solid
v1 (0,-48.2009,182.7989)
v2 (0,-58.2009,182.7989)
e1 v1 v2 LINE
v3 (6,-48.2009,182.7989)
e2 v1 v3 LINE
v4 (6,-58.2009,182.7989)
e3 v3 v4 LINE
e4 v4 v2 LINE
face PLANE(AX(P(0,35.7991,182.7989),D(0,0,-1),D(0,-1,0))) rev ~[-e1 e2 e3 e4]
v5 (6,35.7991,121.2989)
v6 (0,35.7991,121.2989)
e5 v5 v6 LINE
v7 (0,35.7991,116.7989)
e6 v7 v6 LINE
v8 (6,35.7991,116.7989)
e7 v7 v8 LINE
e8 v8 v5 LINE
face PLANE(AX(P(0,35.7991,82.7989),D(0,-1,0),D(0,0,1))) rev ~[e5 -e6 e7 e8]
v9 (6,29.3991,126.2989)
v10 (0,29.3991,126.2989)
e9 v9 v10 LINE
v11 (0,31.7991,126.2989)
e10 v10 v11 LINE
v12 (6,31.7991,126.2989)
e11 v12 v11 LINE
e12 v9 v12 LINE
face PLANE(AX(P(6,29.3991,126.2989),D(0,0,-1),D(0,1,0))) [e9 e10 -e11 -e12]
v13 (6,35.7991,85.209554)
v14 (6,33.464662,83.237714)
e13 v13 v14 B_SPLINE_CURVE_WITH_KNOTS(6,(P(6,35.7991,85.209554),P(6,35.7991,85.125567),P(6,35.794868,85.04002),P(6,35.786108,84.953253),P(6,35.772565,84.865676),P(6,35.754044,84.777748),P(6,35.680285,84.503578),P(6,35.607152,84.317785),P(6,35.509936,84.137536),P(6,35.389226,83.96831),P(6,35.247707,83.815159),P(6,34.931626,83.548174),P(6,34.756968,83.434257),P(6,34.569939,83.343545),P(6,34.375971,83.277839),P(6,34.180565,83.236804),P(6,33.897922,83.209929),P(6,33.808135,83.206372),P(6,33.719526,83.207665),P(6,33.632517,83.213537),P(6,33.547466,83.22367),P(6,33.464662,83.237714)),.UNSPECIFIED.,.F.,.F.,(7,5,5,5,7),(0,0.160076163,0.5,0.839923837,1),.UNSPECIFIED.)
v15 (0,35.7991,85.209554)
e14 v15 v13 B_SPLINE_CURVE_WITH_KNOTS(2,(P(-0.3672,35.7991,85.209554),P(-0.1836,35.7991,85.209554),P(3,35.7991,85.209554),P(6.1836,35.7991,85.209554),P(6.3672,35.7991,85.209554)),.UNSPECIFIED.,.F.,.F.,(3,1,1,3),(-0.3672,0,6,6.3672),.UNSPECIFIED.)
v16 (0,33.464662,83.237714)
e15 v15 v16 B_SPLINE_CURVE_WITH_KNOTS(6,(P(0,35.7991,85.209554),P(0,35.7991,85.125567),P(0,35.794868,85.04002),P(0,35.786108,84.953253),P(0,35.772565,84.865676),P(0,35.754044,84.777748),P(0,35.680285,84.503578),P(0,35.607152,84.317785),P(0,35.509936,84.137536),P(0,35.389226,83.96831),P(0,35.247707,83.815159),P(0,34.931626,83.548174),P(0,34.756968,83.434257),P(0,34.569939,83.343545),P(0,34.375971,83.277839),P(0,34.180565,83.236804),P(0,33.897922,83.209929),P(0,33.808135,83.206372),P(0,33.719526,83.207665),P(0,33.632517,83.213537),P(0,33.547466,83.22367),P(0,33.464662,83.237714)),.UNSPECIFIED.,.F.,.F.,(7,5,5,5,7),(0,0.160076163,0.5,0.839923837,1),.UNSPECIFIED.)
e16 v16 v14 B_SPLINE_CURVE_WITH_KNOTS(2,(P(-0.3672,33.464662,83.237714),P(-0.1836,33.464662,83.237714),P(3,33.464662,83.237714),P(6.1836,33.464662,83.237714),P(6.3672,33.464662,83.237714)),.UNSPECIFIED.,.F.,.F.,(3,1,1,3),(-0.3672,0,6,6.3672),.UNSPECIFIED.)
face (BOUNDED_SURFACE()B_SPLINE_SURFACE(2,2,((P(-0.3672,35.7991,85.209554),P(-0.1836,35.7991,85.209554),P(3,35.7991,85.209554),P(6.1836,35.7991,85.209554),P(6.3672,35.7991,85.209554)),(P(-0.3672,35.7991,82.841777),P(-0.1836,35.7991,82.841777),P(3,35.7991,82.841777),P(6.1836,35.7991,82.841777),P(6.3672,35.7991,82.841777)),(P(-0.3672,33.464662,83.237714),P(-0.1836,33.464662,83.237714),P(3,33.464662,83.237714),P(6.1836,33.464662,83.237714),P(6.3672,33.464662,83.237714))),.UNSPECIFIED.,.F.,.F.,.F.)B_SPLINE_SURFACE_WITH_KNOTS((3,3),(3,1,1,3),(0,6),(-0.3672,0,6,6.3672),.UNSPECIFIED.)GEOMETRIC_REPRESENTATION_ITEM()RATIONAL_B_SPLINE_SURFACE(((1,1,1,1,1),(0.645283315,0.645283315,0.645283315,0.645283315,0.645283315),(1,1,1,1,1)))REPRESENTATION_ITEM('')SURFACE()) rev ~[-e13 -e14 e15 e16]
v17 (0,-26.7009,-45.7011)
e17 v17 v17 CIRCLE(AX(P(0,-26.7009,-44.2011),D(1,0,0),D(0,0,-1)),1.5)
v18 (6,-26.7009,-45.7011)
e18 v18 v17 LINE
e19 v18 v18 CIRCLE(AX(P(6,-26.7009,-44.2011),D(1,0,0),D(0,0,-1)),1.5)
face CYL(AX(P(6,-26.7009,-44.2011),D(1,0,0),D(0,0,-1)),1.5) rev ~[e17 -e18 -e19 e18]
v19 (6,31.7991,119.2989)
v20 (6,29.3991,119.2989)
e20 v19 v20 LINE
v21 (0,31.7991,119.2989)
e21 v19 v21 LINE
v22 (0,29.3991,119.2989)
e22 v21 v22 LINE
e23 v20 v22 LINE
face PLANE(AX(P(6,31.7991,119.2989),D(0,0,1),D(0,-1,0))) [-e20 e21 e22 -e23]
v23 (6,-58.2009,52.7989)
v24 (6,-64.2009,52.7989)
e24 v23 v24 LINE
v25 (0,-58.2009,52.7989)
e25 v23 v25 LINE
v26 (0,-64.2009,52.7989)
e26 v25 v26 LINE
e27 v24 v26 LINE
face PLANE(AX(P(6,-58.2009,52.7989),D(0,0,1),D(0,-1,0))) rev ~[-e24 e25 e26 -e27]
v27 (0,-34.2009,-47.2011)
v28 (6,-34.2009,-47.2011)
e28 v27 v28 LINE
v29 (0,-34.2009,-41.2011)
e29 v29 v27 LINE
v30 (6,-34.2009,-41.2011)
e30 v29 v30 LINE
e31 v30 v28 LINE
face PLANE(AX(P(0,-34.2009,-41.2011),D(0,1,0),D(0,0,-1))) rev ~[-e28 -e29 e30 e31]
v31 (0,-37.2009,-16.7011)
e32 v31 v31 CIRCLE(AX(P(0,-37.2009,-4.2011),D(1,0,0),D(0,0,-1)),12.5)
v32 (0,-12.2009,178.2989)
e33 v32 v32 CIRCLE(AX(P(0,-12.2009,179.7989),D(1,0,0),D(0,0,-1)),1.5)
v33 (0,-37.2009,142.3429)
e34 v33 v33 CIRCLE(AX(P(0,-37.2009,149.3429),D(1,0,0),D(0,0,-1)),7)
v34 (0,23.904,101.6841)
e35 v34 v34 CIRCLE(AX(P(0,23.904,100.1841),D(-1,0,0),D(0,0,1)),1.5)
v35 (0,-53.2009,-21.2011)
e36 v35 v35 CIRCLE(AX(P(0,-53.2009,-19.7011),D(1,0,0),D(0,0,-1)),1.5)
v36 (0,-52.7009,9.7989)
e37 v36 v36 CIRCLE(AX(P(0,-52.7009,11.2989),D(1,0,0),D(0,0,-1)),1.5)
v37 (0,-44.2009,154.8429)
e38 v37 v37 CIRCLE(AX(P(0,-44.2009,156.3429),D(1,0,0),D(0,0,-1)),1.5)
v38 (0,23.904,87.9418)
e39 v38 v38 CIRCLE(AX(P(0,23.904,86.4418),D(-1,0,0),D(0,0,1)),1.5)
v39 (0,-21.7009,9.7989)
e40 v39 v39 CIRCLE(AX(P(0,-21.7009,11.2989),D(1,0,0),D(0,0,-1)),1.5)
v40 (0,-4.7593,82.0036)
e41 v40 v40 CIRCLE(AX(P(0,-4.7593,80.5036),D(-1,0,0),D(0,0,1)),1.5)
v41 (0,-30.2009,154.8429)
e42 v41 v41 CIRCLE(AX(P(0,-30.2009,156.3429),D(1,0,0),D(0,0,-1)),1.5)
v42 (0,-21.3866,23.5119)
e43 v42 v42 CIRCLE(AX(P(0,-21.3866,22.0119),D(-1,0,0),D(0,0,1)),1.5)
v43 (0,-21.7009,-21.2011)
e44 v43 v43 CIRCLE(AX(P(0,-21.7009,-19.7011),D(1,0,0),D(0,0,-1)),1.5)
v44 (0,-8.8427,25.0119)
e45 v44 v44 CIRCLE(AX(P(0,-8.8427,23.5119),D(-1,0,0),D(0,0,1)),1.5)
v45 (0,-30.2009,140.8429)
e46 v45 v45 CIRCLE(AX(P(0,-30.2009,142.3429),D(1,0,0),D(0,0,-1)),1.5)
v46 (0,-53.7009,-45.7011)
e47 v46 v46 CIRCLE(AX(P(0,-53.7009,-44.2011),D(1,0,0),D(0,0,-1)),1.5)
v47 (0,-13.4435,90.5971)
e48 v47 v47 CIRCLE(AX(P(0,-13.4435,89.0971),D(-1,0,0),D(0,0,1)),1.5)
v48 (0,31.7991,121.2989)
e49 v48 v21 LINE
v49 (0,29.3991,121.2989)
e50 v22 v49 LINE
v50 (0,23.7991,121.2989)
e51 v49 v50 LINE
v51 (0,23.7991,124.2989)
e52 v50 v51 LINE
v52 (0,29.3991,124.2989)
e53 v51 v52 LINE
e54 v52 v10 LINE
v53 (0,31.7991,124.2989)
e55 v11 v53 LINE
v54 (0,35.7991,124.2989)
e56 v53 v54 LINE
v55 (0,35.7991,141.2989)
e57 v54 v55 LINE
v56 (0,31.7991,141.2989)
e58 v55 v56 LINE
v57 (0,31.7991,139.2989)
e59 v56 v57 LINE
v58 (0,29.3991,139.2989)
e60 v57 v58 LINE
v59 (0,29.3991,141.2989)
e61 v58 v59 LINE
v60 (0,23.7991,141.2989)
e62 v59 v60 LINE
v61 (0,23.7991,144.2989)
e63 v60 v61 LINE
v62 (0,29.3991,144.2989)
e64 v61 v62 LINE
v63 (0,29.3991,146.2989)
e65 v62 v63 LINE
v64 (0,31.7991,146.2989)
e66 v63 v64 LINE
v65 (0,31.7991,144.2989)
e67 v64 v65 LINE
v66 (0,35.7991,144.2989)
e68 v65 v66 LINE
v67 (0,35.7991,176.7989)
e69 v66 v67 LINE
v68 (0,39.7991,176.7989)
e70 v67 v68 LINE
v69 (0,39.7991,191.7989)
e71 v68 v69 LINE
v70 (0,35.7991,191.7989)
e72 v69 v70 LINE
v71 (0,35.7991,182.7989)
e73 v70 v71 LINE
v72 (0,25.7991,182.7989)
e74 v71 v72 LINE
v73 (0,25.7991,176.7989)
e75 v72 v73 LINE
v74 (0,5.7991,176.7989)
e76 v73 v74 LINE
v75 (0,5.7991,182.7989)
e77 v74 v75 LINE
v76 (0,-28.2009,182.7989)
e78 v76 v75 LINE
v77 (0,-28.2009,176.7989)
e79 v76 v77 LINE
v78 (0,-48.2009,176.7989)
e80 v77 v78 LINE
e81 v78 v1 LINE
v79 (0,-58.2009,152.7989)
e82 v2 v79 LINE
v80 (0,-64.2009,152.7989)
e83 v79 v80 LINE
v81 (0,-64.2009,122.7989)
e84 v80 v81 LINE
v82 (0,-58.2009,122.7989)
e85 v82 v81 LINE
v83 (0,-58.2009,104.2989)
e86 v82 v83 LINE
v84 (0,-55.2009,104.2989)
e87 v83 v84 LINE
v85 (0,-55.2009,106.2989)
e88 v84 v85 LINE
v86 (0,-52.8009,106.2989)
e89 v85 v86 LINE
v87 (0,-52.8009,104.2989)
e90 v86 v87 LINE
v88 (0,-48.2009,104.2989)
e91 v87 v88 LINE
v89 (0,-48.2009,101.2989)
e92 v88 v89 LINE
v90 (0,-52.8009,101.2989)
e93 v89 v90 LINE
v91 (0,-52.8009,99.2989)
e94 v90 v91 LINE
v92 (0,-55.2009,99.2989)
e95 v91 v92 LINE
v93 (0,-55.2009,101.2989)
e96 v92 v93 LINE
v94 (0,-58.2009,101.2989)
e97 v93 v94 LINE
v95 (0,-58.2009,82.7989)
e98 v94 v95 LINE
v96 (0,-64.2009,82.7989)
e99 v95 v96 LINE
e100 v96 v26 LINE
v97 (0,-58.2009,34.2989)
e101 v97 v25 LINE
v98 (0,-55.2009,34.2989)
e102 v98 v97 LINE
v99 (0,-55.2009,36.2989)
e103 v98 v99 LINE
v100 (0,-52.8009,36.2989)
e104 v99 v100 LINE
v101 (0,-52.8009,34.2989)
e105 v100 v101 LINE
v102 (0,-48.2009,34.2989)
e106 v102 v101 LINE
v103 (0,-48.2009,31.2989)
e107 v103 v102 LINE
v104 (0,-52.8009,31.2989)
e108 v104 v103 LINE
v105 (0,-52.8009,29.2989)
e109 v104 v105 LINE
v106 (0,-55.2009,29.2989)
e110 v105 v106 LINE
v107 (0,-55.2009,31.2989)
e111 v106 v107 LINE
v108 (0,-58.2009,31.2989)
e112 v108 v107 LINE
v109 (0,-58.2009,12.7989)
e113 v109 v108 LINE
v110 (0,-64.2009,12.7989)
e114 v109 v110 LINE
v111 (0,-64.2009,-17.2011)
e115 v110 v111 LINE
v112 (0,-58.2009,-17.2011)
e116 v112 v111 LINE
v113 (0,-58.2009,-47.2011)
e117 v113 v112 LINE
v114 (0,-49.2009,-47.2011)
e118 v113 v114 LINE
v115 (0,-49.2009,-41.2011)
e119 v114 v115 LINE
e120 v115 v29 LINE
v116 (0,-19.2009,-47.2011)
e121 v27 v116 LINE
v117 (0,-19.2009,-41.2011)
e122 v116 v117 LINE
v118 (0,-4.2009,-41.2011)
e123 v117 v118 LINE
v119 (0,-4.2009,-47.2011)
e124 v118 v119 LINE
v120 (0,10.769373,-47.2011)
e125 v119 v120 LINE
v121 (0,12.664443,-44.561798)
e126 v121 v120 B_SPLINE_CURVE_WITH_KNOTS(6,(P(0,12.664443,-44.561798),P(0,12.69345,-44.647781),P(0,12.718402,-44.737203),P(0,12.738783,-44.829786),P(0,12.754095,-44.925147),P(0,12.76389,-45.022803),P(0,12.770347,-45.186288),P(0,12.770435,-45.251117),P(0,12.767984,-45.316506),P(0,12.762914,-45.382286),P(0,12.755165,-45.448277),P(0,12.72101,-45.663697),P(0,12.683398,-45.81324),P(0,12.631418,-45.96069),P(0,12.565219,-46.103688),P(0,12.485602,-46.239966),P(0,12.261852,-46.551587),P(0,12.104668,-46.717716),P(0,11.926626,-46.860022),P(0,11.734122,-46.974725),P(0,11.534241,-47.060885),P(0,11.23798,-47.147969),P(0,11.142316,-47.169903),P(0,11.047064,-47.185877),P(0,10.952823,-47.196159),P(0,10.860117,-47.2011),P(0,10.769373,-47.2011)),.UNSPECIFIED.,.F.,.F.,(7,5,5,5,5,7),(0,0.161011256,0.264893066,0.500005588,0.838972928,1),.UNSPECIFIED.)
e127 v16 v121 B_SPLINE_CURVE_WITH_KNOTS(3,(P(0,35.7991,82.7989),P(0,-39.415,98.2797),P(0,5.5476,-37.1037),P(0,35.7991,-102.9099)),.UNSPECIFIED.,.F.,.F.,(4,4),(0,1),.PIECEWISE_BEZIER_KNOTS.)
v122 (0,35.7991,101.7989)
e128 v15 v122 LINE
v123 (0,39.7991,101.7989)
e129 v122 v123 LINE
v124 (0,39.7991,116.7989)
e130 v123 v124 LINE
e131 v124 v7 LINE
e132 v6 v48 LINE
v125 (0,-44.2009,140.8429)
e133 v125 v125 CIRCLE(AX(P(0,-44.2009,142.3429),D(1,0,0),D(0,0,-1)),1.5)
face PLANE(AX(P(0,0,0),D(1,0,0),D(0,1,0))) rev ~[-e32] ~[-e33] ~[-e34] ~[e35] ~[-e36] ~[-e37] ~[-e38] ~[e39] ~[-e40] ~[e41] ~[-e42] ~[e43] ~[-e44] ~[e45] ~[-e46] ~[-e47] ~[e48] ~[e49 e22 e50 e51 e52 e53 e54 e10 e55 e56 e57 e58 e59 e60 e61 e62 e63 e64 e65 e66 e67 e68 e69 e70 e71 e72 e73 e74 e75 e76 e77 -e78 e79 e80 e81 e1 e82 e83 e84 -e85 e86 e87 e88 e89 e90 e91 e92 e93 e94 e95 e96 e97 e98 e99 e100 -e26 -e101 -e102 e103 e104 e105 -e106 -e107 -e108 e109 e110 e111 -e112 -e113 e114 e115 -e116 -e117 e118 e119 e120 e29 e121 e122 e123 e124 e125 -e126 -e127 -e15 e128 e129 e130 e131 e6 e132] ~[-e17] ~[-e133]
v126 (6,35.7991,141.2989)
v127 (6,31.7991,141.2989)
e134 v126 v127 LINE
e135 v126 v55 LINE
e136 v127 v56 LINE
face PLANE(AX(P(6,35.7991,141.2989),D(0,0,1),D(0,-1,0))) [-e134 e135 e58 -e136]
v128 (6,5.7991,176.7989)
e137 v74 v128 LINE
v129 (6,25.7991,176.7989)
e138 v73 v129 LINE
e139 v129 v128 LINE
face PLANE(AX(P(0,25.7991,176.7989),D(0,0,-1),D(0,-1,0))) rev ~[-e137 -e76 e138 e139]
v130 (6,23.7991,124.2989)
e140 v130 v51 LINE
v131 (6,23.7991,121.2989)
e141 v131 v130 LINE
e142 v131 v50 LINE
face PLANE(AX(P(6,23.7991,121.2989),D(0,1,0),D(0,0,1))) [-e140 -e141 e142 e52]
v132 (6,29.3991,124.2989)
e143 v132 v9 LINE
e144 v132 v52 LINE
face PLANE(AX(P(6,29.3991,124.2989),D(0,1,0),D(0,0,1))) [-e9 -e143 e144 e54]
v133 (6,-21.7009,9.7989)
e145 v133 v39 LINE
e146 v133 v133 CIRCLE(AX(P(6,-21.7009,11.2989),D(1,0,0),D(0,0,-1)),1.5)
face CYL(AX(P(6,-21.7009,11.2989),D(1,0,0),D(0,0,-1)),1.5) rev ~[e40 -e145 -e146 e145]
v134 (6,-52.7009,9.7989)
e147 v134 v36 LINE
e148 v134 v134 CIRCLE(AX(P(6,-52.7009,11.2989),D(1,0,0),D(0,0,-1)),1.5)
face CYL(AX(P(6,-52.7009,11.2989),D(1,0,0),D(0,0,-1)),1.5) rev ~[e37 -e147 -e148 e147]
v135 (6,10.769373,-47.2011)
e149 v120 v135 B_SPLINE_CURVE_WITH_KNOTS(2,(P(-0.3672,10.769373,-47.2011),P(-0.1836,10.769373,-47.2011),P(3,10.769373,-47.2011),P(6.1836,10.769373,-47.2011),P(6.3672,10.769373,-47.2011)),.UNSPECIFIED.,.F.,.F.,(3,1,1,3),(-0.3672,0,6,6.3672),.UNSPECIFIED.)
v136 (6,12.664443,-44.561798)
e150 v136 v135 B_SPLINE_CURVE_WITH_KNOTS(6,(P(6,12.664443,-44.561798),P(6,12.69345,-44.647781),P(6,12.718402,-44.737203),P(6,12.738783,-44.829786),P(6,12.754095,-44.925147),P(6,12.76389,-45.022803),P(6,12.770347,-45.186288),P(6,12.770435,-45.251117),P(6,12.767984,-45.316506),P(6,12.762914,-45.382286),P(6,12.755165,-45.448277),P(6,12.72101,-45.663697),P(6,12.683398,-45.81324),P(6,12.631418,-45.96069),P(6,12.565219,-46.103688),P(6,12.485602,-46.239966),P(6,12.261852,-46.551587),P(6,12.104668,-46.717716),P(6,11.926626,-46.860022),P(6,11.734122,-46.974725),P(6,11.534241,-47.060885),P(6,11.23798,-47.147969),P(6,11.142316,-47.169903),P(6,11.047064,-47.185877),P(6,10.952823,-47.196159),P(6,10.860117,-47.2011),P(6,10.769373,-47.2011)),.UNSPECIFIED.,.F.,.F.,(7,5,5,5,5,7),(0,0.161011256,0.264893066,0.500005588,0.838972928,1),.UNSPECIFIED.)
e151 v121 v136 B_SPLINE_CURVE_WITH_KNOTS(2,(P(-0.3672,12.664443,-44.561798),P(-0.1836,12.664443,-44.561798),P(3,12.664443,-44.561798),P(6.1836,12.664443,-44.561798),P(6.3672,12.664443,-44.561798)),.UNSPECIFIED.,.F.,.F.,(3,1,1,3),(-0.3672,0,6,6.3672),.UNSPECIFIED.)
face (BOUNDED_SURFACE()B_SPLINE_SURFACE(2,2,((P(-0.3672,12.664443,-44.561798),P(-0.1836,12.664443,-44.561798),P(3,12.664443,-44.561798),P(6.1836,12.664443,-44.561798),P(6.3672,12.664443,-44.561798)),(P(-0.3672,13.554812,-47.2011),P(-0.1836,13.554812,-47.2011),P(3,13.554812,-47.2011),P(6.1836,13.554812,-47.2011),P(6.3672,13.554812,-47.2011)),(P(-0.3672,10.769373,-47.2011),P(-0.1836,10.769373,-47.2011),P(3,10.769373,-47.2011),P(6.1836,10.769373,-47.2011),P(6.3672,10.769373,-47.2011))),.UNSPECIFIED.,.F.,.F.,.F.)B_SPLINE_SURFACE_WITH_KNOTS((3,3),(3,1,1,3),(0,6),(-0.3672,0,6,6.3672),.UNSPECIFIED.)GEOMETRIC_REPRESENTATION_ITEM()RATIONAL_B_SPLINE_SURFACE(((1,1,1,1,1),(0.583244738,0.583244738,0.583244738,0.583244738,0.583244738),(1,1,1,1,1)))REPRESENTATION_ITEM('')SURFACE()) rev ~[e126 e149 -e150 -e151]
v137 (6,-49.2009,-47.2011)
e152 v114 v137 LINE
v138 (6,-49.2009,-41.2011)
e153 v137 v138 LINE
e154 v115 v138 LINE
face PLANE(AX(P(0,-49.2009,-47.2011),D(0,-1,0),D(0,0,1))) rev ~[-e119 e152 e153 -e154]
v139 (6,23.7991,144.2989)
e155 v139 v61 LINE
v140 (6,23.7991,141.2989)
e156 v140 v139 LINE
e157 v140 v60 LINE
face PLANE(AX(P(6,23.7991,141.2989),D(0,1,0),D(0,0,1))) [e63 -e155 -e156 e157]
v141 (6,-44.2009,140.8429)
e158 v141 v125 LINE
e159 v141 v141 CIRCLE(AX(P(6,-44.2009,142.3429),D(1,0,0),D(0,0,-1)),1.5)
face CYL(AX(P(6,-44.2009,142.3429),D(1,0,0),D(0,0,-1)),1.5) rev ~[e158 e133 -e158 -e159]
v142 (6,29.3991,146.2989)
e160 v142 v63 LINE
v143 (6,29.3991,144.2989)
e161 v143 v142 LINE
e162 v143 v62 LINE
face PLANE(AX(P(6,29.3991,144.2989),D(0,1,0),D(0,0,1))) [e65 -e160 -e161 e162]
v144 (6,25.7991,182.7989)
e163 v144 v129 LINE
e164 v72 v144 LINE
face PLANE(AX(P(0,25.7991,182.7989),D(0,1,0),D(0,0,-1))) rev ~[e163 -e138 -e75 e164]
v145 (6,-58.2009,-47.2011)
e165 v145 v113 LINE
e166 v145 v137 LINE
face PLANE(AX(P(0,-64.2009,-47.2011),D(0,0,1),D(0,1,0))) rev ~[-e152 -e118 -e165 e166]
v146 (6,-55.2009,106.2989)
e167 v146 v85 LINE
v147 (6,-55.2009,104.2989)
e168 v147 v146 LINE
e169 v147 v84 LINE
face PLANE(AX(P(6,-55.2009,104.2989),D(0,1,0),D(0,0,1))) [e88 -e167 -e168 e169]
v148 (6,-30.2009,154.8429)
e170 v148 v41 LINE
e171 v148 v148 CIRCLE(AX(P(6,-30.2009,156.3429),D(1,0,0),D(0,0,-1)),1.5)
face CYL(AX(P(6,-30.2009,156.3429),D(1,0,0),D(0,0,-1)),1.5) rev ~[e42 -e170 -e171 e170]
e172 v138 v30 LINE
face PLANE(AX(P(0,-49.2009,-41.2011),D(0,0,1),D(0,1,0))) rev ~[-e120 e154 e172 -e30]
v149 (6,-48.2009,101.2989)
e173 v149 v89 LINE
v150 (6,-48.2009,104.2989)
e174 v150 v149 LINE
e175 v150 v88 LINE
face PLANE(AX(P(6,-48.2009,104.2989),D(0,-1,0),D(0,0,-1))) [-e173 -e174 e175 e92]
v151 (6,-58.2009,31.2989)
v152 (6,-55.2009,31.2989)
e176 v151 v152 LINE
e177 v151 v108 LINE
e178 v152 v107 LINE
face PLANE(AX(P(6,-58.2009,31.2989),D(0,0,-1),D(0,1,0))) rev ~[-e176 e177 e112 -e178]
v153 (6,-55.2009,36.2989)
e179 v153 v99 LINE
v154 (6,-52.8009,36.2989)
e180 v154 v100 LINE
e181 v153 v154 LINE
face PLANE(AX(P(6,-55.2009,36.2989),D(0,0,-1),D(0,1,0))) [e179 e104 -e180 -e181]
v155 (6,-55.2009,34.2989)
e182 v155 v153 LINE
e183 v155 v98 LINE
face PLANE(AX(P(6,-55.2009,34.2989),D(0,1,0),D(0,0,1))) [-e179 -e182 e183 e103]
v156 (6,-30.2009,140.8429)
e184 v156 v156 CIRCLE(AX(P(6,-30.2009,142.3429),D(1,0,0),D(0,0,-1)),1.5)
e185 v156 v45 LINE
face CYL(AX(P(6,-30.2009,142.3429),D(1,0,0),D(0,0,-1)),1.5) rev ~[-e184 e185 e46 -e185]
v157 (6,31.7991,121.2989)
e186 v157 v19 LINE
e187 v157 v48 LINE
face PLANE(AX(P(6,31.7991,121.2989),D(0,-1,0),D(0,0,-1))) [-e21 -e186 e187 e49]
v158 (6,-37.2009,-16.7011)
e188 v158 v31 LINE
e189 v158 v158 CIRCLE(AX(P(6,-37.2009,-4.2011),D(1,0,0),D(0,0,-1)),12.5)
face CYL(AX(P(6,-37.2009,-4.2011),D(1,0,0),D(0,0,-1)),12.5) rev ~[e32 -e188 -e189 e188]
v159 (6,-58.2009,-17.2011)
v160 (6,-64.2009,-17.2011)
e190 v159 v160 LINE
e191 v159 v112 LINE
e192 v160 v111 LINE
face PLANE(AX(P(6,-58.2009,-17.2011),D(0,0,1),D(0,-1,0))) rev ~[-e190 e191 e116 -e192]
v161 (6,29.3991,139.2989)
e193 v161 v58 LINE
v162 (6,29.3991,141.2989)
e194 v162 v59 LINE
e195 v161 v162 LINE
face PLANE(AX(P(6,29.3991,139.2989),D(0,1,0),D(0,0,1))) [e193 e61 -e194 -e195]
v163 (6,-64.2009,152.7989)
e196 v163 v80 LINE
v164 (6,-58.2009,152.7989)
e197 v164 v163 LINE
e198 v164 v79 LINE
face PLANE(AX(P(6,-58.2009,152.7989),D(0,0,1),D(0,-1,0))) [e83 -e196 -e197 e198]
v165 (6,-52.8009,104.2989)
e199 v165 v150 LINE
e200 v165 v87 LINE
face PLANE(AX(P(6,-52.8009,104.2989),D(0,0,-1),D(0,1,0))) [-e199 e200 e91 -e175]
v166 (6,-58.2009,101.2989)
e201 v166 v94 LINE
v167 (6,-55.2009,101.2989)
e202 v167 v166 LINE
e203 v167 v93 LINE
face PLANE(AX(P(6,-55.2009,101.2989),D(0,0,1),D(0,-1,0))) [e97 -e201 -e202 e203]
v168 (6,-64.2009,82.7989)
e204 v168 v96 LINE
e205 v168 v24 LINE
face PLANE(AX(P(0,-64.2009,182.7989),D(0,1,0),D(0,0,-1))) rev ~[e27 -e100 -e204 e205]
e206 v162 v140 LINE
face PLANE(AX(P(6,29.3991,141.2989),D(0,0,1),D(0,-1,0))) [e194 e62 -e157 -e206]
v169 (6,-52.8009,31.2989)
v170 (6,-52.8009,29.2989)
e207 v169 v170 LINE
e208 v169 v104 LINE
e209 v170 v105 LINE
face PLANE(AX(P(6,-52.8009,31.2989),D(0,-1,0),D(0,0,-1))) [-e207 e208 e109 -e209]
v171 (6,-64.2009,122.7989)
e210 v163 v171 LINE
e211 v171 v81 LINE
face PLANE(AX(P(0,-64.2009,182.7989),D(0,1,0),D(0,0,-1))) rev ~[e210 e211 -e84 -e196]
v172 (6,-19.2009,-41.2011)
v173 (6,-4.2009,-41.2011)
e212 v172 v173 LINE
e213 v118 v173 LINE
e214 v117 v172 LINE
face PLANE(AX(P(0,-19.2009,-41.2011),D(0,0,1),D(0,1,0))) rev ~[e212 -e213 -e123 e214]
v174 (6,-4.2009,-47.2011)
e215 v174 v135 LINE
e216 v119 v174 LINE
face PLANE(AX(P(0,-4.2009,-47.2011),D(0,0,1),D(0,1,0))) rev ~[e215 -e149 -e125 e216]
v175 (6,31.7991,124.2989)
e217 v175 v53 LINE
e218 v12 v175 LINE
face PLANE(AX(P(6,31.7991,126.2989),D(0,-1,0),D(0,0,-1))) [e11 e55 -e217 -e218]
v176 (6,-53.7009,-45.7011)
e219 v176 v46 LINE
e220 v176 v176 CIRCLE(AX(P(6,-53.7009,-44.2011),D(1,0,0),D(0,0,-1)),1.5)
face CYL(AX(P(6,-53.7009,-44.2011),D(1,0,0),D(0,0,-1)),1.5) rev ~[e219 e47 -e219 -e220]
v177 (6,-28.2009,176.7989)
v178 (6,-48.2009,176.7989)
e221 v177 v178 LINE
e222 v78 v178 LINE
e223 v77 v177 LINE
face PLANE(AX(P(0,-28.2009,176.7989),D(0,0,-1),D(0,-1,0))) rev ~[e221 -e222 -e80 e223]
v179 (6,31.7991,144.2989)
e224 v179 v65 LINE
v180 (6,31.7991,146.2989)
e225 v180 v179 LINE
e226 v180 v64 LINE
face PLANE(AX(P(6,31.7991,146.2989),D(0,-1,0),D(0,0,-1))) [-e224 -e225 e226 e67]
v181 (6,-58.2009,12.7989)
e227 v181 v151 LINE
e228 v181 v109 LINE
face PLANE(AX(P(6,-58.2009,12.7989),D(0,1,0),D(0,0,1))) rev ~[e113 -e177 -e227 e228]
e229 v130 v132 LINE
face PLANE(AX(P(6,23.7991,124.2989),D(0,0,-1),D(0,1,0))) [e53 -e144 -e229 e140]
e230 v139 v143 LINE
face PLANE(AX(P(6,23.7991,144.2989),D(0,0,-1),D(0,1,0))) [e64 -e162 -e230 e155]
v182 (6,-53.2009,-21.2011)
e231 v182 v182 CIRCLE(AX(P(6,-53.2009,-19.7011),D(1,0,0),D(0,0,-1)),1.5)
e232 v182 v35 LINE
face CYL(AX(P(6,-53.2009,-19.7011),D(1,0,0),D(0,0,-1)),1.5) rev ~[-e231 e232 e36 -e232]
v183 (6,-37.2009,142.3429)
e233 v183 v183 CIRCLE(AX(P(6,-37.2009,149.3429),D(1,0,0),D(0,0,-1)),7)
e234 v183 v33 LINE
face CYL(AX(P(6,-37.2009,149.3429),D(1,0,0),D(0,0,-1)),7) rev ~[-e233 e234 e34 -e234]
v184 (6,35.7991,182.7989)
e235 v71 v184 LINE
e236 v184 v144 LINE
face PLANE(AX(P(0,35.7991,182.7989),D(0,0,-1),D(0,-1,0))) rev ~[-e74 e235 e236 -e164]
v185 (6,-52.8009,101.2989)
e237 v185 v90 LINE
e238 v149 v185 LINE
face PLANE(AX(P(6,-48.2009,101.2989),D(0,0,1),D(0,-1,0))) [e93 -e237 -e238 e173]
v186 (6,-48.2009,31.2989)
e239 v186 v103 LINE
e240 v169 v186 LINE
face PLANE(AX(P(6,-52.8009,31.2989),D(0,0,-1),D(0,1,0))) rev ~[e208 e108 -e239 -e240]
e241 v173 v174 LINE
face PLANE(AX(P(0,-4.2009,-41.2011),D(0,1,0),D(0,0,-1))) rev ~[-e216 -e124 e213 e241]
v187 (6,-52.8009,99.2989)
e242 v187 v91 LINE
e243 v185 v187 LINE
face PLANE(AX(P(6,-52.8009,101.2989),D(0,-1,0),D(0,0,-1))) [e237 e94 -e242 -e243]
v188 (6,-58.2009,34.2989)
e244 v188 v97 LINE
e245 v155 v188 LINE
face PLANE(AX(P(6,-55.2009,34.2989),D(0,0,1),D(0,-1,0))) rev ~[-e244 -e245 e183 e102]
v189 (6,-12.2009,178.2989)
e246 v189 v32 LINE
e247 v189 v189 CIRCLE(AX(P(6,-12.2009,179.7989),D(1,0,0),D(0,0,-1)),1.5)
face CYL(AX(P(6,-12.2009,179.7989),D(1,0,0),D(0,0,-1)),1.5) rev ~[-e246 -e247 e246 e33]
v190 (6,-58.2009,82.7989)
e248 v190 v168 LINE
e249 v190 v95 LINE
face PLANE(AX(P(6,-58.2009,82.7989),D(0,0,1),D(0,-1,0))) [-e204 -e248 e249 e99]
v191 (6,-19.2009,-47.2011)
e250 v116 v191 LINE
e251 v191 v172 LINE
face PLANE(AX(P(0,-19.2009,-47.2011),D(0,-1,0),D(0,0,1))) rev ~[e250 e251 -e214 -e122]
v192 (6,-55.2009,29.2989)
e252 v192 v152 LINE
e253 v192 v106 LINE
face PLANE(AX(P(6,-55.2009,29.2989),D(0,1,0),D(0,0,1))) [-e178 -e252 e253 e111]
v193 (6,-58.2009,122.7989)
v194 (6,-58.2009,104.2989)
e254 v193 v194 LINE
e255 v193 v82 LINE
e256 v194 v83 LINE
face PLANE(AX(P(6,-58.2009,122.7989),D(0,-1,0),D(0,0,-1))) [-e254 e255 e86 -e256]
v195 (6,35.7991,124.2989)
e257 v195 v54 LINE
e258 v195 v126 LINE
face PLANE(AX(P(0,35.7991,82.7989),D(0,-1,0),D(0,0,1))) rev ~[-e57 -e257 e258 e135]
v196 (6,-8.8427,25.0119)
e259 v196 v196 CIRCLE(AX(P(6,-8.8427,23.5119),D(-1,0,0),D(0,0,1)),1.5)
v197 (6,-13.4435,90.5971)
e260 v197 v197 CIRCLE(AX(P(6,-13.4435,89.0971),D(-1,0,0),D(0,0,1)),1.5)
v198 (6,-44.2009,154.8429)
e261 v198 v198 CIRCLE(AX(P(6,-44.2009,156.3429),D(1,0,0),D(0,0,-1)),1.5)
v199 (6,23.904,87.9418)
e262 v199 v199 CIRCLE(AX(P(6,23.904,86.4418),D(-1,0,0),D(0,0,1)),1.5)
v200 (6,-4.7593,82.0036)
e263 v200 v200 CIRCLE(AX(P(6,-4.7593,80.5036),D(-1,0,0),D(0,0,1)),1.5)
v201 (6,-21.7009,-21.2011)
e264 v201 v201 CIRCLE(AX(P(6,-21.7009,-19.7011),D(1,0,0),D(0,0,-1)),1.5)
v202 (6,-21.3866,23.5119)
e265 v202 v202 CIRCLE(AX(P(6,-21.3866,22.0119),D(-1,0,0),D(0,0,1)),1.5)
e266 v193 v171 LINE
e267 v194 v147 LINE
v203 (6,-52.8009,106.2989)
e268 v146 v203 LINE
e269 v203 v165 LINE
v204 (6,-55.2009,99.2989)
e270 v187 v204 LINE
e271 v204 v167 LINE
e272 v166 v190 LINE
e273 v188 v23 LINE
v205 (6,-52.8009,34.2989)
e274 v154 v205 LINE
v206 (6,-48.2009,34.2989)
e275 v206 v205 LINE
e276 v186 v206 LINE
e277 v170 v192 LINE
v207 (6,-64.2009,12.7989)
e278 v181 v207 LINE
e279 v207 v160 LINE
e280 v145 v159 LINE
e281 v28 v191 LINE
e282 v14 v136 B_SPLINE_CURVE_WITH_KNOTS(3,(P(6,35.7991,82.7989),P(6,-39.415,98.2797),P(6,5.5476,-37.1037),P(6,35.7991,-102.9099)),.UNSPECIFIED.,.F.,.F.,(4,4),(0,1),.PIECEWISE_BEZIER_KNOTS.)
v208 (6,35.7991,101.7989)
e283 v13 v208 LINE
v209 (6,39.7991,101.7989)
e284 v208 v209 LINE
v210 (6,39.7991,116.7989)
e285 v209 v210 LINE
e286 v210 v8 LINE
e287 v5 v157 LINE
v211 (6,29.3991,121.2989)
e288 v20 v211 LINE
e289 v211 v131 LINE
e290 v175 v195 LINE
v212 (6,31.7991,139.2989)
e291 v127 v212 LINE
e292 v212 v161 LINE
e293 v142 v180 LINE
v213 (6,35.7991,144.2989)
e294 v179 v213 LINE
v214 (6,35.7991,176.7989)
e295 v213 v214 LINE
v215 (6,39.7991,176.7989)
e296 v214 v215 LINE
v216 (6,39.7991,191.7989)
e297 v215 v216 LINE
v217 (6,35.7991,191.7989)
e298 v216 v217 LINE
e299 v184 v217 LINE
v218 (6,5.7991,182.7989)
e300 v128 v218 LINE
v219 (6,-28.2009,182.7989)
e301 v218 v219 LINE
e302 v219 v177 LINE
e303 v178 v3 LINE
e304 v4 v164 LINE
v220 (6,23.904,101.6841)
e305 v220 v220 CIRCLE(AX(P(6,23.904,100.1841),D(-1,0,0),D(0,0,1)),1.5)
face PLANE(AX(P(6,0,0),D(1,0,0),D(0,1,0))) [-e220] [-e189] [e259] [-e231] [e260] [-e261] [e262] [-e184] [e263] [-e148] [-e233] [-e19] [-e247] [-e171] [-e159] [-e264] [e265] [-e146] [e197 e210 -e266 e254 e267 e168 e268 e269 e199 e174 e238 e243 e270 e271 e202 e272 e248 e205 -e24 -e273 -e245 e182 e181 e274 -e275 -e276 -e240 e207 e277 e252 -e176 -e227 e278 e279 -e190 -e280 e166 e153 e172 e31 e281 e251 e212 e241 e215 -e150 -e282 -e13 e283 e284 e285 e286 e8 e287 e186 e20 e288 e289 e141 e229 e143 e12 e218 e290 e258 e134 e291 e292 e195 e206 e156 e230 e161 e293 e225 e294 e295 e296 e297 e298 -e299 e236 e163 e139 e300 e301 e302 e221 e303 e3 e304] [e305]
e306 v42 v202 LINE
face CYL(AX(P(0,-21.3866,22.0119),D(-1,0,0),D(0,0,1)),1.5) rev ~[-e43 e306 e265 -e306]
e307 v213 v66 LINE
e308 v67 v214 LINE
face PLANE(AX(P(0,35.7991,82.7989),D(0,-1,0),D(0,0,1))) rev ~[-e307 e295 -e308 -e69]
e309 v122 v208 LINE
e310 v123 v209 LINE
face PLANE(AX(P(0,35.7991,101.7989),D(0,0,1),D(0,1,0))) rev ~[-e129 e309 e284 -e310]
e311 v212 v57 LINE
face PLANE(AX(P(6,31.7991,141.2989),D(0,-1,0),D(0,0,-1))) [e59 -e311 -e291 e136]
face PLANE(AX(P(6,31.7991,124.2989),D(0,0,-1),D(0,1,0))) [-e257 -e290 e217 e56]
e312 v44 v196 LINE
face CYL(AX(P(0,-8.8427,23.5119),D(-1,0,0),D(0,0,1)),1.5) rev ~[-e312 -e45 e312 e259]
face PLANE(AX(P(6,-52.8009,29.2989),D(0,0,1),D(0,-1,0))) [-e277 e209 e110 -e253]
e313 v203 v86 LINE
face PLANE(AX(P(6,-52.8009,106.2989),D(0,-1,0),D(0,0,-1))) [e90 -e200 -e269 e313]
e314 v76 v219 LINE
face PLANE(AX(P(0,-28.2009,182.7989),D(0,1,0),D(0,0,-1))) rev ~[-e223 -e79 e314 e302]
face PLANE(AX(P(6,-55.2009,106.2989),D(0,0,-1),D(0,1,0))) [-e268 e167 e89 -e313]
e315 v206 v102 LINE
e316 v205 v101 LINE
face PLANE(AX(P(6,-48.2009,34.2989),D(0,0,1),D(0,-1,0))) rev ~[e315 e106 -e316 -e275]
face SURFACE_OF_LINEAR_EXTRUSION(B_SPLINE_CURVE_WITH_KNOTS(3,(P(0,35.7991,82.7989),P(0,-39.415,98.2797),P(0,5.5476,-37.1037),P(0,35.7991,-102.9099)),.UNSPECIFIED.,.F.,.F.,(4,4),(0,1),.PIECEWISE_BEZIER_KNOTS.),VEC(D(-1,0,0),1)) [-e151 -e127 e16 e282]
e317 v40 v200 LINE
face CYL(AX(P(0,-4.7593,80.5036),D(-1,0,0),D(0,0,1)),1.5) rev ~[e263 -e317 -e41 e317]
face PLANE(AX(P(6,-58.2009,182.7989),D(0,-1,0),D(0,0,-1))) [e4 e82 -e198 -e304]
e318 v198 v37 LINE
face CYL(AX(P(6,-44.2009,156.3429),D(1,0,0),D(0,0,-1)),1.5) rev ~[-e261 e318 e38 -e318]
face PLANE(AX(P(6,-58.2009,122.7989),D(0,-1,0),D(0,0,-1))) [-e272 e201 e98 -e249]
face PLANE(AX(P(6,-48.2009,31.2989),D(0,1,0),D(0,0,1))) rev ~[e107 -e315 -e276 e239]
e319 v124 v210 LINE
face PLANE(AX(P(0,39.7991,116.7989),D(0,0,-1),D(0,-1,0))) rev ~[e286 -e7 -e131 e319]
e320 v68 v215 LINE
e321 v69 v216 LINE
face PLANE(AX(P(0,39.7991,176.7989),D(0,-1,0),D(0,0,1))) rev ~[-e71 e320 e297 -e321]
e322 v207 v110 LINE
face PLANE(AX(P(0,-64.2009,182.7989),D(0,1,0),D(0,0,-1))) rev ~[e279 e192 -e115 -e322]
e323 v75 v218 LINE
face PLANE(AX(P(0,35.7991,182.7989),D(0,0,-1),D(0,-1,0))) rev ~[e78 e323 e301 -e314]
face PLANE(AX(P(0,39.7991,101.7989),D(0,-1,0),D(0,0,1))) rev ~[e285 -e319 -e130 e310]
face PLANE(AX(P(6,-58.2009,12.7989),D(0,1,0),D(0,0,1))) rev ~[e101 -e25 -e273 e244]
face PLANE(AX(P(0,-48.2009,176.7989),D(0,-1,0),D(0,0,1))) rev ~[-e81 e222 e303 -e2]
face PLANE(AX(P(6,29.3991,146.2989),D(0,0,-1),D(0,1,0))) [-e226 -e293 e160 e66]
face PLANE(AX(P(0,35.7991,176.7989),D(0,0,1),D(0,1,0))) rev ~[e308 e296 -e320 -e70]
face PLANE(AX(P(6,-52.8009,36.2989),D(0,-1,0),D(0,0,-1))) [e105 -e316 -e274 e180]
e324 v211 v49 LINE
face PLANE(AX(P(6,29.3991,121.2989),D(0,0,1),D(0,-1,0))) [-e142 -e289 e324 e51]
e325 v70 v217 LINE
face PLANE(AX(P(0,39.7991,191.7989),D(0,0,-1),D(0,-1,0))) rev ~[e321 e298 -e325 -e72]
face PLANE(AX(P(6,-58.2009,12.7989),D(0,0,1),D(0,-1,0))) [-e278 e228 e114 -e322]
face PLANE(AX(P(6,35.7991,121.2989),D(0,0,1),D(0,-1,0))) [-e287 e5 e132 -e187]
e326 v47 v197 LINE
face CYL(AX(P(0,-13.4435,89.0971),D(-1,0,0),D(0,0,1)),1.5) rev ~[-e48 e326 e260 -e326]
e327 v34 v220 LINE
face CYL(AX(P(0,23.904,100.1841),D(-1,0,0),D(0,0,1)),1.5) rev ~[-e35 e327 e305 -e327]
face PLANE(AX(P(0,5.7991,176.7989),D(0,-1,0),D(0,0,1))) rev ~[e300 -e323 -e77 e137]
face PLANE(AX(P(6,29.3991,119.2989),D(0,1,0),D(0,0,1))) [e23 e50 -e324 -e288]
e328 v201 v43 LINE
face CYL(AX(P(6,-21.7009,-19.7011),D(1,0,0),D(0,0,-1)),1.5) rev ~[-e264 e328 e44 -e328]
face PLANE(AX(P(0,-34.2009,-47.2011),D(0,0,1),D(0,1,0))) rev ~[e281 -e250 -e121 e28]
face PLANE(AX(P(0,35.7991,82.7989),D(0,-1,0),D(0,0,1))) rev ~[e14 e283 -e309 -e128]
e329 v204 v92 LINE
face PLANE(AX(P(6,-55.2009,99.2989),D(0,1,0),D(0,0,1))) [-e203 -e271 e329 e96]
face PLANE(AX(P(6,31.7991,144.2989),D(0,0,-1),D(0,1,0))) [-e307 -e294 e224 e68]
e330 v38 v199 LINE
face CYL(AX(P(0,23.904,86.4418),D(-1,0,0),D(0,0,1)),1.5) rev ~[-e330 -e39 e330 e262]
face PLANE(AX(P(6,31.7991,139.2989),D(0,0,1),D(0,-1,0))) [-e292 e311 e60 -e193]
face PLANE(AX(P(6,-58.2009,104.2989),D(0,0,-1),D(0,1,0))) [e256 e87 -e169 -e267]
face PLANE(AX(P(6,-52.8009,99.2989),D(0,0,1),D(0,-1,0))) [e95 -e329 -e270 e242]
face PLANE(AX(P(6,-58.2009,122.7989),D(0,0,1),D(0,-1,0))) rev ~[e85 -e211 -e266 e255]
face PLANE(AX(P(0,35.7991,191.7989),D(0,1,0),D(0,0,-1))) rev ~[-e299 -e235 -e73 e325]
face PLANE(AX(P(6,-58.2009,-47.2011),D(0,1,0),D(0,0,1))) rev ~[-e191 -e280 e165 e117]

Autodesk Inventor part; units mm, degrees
ref_plane "YZ Plane" through (0, 0, 0) normal (1, 0, 0) x (0, 1, 0)
ref_plane "XZ Plane" through (0, 0, 0) normal (0, 1, 0) x (-1, 0, 0)
ref_plane "XY Plane" through (0, 0, 0) normal (0, 0, 1) x (1, 0, 0)
sketch "Эскиз1" plane through (0, 0, 0) normal (1, 0, 0) x (0, 1, 0)
  line L0 (35.7991, 182.7989) -> (-64.2009, 182.7989)
  line L1 (-64.2009, 182.7989) -> (-64.2009, -47.2011)
  line L2 (-64.2009, -47.2011) -> (35.7991, -47.2011)
  line L3 (35.7991, -47.2011) -> (35.7991, 182.7989)
  spline S0 degree 3 poles (35.7991, 82.7989) (-39.415, 98.2797) (5.5476, -37.1037) (35.7991, -102.9099) knots 0 0 0 0 1 1 1 1
  line L4 (-4.2009, -47.2011) -> (-19.2009, -47.2011)
  line L5 (-19.2009, -47.2011) -> (-19.2009, -41.2011)
  line L6 (-19.2009, -41.2011) -> (-4.2009, -41.2011)
  line L7 (-4.2009, -41.2011) -> (-4.2009, -47.2011)
  line L8 (-34.2009, -47.2011) -> (-49.2009, -47.2011)
  line L9 (-49.2009, -47.2011) -> (-49.2009, -41.2011)
  line L10 (-49.2009, -41.2011) -> (-34.2009, -41.2011)
  line L11 (-34.2009, -41.2011) -> (-34.2009, -47.2011)
  point P0 (0, 0)
  point P1 (0.0412, 70.004)
  point P2 (13.5621, -47.2011)
  point P3 (-4.2009, -44.2011)
  point P4 (-19.2009, -44.2011)
  point P5 (-34.2009, -44.2011)
  point P6 (-49.2009, -44.2011)
  dimension "d0" = 230
  dimension "d1" = 100
  dimension "d20" = 100
  dimension "d155" = 15
  dimension "d156" = 15
  dimension "d157" = 6
  dimension "d158" = 15
  dimension "d159" = 15
extrude "Выдавливание1" add sketch "Эскиз1" along normal blind 6 contours L3 S0 L2 L7 L6 L5 L11 L10 L9 L1 L0
sketch "Эскиз2" plane through (6, 0, 0) normal (1, 0, 0) x (0, 0, -1)
  line L0 (-182.7989, 35.7991) -> (-182.7989, -64.2009) projected
  line L1 (-182.7989, -64.2009) -> (47.2011, -64.2009) projected
  line L2 (-182.7989, -58.2009) -> (-152.7989, -58.2009)
  line L3 (-152.7989, -58.2009) -> (-152.7989, -64.2009)
  line L4 (-152.7989, -64.2009) -> (-182.7989, -64.2009)
  line L5 (-182.7989, -64.2009) -> (-182.7989, -58.2009)
  line L6 (-152.7989, -58.2009) -> (-122.7989, -58.2009)
  line L7 (-122.7989, -58.2009) -> (-122.7989, -64.2009)
  line L8 (-122.7989, -64.2009) -> (-152.7989, -64.2009)
  line L9 (-152.7989, -64.2009) -> (-152.7989, -58.2009)
  line L10 (-122.7989, -58.2009) -> (-82.7989, -58.2009)
  line L11 (-82.7989, -58.2009) -> (-82.7989, -64.2009)
  line L12 (-82.7989, -64.2009) -> (-122.7989, -64.2009)
  line L13 (-122.7989, -64.2009) -> (-122.7989, -58.2009)
  line L14 (47.2011, -64.2009) -> (47.2011, 13.5621) projected
  line L15 (47.2011, -58.2009) -> (17.2011, -58.2009)
  line L16 (17.2011, -58.2009) -> (17.2011, -64.2009)
  line L17 (17.2011, -64.2009) -> (47.2011, -64.2009)
  line L18 (47.2011, -64.2009) -> (47.2011, -58.2009)
  line L19 (17.2011, -58.2009) -> (-12.7989, -58.2009)
  line L20 (-12.7989, -58.2009) -> (-12.7989, -64.2009)
  line L21 (-12.7989, -64.2009) -> (17.2011, -64.2009)
  line L22 (17.2011, -64.2009) -> (17.2011, -58.2009)
  line L23 (-12.7989, -58.2009) -> (-52.7989, -58.2009)
  line L24 (-52.7989, -58.2009) -> (-52.7989, -64.2009)
  line L25 (-52.7989, -64.2009) -> (-12.7989, -64.2009)
  line L26 (-12.7989, -64.2009) -> (-12.7989, -58.2009)
  line L27 (-52.7989, -58.2009) -> (-82.7989, -58.2009)
  line L28 (-82.7989, -58.2009) -> (-82.7989, -64.2009)
  line L29 (-82.7989, -64.2009) -> (-52.7989, -64.2009)
  line L30 (-52.7989, -64.2009) -> (-52.7989, -58.2009)
  point P0 (0, 0)
  point P1 (47.89, 35.7991)
  point P2 (-122.7989, -64.2009)
  point P3 (47.2011, 13.5621)
  dimension "d4" = 30
  dimension "d5" = 30
  dimension "d6" = 40
  dimension "d7" = 30
  dimension "d8" = 30
  dimension "d9" = 40
  dimension "d12" = 6
  dimension "d13" = 6
extrude "Выдавливание2" cut sketch "Эскиз2" against normal through all contours L2 L3 L1 L0 | L10 L11 L1 L7 | L23 L20 L1 L24 | L15 L14 L1 L16
sketch "Эскиз3" plane through (0, 0, 0) normal (-1, 0, 0) x (0, 0, 1)
  line L0 (182.7989, -58.2009) -> (176.7989, -58.2009)
  line L1 (176.7989, -58.2009) -> (176.7989, -48.2009)
  line L2 (176.7989, -48.2009) -> (182.7989, -48.2009)
  line L3 (182.7989, -48.2009) -> (182.7989, -58.2009)
  line L4 (176.7989, -48.2009) -> (182.7989, -48.2009)
  line L5 (182.7989, -48.2009) -> (182.7989, -28.2009)
  line L6 (182.7989, -28.2009) -> (176.7989, -28.2009)
  line L7 (176.7989, -28.2009) -> (176.7989, -48.2009)
  line L8 (182.7989, -28.2009) -> (176.7989, -28.2009)
  line L9 (176.7989, -28.2009) -> (176.7989, 5.7991)
  line L10 (176.7989, 5.7991) -> (182.7989, 5.7991)
  line L11 (182.7989, 5.7991) -> (182.7989, -28.2009)
  line L12 (176.7989, 5.7991) -> (182.7989, 5.7991)
  line L13 (182.7989, 5.7991) -> (182.7989, 25.7991)
  line L14 (182.7989, 25.7991) -> (176.7989, 25.7991)
  line L15 (176.7989, 25.7991) -> (176.7989, 5.7991)
  line L16 (182.7989, 35.7991) -> (182.7989, -58.2009) projected
  line L17 (176.7989, 25.7991) -> (182.7989, 25.7991)
  line L18 (182.7989, 25.7991) -> (182.7989, 35.7991)
  line L19 (182.7989, 35.7991) -> (176.7989, 35.7991)
  line L20 (176.7989, 35.7991) -> (176.7989, 25.7991)
  point P0 (0, 0)
  dimension "d14" = 10
  dimension "d15" = 10
  dimension "d16" = 20
  dimension "d17" = 20
  dimension "d106" = 6
extrude "Выдавливание3" cut sketch "Эскиз3" against normal blind 6 contours L2 L7 L6 L5 | L10 L15 L14 L13
sketch "Эскиз4" plane through (6, 0, 0) normal (1, 0, 0) x (0, 0, -1)
  line L0 (-16.7989, -58.2009) -> (25.2011, -58.2009)
  line L1 (25.2011, -58.2009) -> (25.2011, -50.2009)
  line L2 (25.2011, -50.2009) -> (-16.7989, -50.2009)
  line L3 (-16.7989, -50.2009) -> (-16.7989, -58.2009)
  line L4 (25.2011, -58.2009) -> (17.2011, -58.2009)
  line L5 (17.2011, -58.2009) -> (17.2011, -16.2009)
  line L6 (17.2011, -16.2009) -> (25.2011, -16.2009)
  line L7 (25.2011, -16.2009) -> (25.2011, -58.2009)
  line L8 (25.2011, -16.2009) -> (-16.7989, -16.2009)
  line L9 (-16.7989, -16.2009) -> (-16.7989, -24.2009)
  line L10 (-16.7989, -24.2009) -> (25.2011, -24.2009)
  line L11 (25.2011, -24.2009) -> (25.2011, -16.2009)
  line L12 (-16.7989, -16.2009) -> (-8.7989, -16.2009)
  line L13 (-8.7989, -16.2009) -> (-8.7989, -58.2009)
  line L14 (-8.7989, -58.2009) -> (-16.7989, -58.2009)
  line L15 (-16.7989, -58.2009) -> (-16.7989, -16.2009)
  line L16 (-16.7989, -45.8935) -> (-16.7989, -53.8935)
  circle A0 centre (-11.2989, -21.7009) radius 1.5
  circle A1 centre (19.7011, -21.7009) radius 1.5
  circle A2 centre (19.7011, -53.2009) radius 1.5
  circle A3 centre (-11.2989, -52.7009) radius 1.5
  circle A4 centre (4.2011, -37.2009) radius 12.5
  line L17 (-182.7989, -58.2009) -> (-152.7989, -58.2009) projected
  line L18 (-176.7989, -28.2009) -> (-176.7989, -48.2009) projected
  circle A5 centre (-149.3429, -37.2009) radius 7
  circle A6 centre (-156.3429, -30.2009) radius 1.5
  circle A7 centre (-142.3429, -30.2009) radius 1.5
  circle A8 centre (-142.3429, -44.2009) radius 1.5
  circle A9 centre (-156.3429, -44.2009) radius 1.5
  line L19 (-142.3429, -30.2009) -> (-142.3429, -44.2009) construction
  line L20 (-142.3429, -44.2009) -> (-156.3429, -44.2009) construction
  line L21 (-156.3429, -30.2009) -> (-156.3429, -44.2009) construction
  line L22 (-156.3429, -30.2009) -> (-142.3429, -30.2009) construction
  line L23 (-67.7989, 21.7334) -> (-67.7989, -91.6472) construction
  line L24 (47.2011, -58.2009) -> (47.2011, 13.5621) construction
  line L25 (-152.7989, -64.2009) -> (-122.7989, -64.2009) projected
  point P0 (0, 0)
  point P1 (4.2011, -58.2009)
  point P2 (-176.8137, 14.1065)
  point P3 (-16.7989, -53.8935)
  point P4 (-16.7989, -45.8935)
  point P5 (4.035, -43.7767)
  point P6 (21.9204, -26.629)
  dimension "d21" = 42
  dimension "d22" = 42
  dimension "d23" = 8
  dimension "d24" = 8
  dimension "d25" = 8
  dimension "d26" = 8
  dimension "d27" = 3
  dimension "d28" = 3
  dimension "d29" = 3
  dimension "d30" = 3
  dimension "d31" = 5.5
  dimension "d32" = 5.5
  dimension "d33" = 5.5
  dimension "d34" = 5.5
  dimension "d35" = 5.5
  dimension "d36" = 5.5
  dimension "d37" = 5.5
  dimension "d38" = 21
  dimension "d39" = 21
  dimension "d40" = 25
  dimension "d41" = 3
  dimension "d42" = 160
  dimension "d45" = 14
  dimension "d46" = 3
  dimension "d47" = 3
  dimension "d48" = 3
  dimension "d49" = 3
  dimension "d83" = 115
  dimension "d84" = 27
extrude "Выдавливание4" cut sketch "Эскиз4" against normal blind 6 contours A0 | A1 | A2 | A3 | A4 | A5 | A6 | A7 | A8 | A9
sketch "Эскиз5" plane through (6, 0, 0) normal (1, 0, 0) x (0, 0, -1)
  line L0 (-82.7989, 35.7991) -> (-182.7989, 35.7991) projected
  line L1 (-144.2989, 35.7991) -> (-141.2989, 35.7991)
  line L2 (-141.2989, 35.7991) -> (-141.2989, 23.7991)
  line L3 (-141.2989, 23.7991) -> (-144.2989, 23.7991)
  line L4 (-144.2989, 23.7991) -> (-144.2989, 35.7991)
  line L5 (-139.2989, 29.3991) -> (-146.2989, 29.3991)
  line L6 (-146.2989, 29.3991) -> (-146.2989, 31.7991)
  line L7 (-146.2989, 31.7991) -> (-139.2989, 31.7991)
  line L8 (-139.2989, 31.7991) -> (-139.2989, 29.3991)
  line L9 (-182.7989, 35.7991) -> (-182.7989, 25.7991) projected
  line L10 (-124.2989, 35.7991) -> (-121.2989, 35.7991)
  line L11 (-121.2989, 35.7991) -> (-121.2989, 23.7991)
  line L12 (-121.2989, 23.7991) -> (-124.2989, 23.7991)
  line L13 (-124.2989, 23.7991) -> (-124.2989, 35.7991)
  line L14 (-119.2989, 29.3991) -> (-126.2989, 29.3991)
  line L15 (-126.2989, 29.3991) -> (-126.2989, 31.7991)
  line L16 (-126.2989, 31.7991) -> (-119.2989, 31.7991)
  line L17 (-119.2989, 31.7991) -> (-119.2989, 29.3991)
  line L18 (-82.7989, 35.7991) -> (-182.7989, 35.7991) projected
  point P0 (0, 0)
  point P1 (-146.2989, 30.5991)
  point P2 (-126.2989, 30.5991)
  point P3 (-121.2989, 29.3991)
  point P4 (-121.2989, 31.7991)
  point P5 (-124.2989, 31.7991)
  point P6 (-124.2989, 29.3991)
  point P7 (-141.2989, 31.7991)
  point P8 (-141.2989, 35.7991)
  point P9 (-144.2989, 31.7991)
  point P10 (-144.2989, 29.3991)
  point P11 (-141.2989, 29.3991)
  point P12 (-182.7989, 30.7991)
  dimension "d50" = 3
  dimension "d51" = 2.4
  dimension "d52" = 7
  dimension "d53" = 2
  dimension "d54" = 12
  dimension "d55" = 4
  dimension "d57" = 3
  dimension "d58" = 2.4
  dimension "d59" = 7
  dimension "d60" = 2
  dimension "d61" = 12
  dimension "d63" = 38.5
  dimension "d66" = 38.5
extrude "Выдавливание5" cut sketch "Эскиз5" against normal through all
sketch "Эскиз6" plane through (6, 0, 0) normal (1, 0, 0) x (0, 0, -1)
  line L0 (-101.2989, -58.2009) -> (-104.2989, -58.2009)
  line L1 (-104.2989, -58.2009) -> (-104.2989, -48.2009)
  line L2 (-104.2989, -48.2009) -> (-101.2989, -48.2009)
  line L3 (-101.2989, -48.2009) -> (-101.2989, -58.2009)
  line L4 (-106.2989, -52.8009) -> (-99.2989, -52.8009)
  line L5 (-99.2989, -52.8009) -> (-99.2989, -55.2009)
  line L6 (-99.2989, -55.2009) -> (-106.2989, -55.2009)
  line L7 (-106.2989, -55.2009) -> (-106.2989, -52.8009)
  line L8 (-52.7989, -58.2009) -> (-12.7989, -58.2009) projected
  line L9 (-34.2989, -58.2009) -> (-31.2989, -58.2009)
  line L10 (-31.2989, -58.2009) -> (-31.2989, -48.2009)
  line L11 (-31.2989, -48.2009) -> (-34.2989, -48.2009)
  line L12 (-34.2989, -48.2009) -> (-34.2989, -58.2009)
  line L13 (-36.2989, -52.8009) -> (-29.2989, -52.8009)
  line L14 (-29.2989, -52.8009) -> (-29.2989, -55.2009)
  line L15 (-29.2989, -55.2009) -> (-36.2989, -55.2009)
  line L16 (-36.2989, -55.2009) -> (-36.2989, -52.8009)
  line L17 (-122.7989, -58.2009) -> (-82.7989, -58.2009) projected
  line L18 (-122.7989, -64.2009) -> (-122.7989, -58.2009) projected
  line L19 (-52.7989, -64.2009) -> (-52.7989, -58.2009) projected
  point P0 (0, 0)
  point P1 (-122.7989, -61.2009)
  point P2 (-29.2989, -54.0009)
  point P3 (-32.7989, -58.2009)
  point P4 (-34.2989, -55.2009)
  point P5 (-31.2989, -55.2009)
  point P6 (-31.2989, -52.8009)
  point P7 (-34.2989, -52.8009)
  point P8 (-104.2989, -55.2009)
  point P9 (-101.2989, -55.2009)
  point P10 (-101.2989, -52.8009)
  point P11 (-104.2989, -52.8009)
  dimension "d67" = 10
  dimension "d68" = 2.4
  dimension "d69" = 3
  dimension "d70" = 7
  dimension "d71" = 3
  dimension "d72" = 2
  dimension "d73" = 18.5
  dimension "d74" = 3
  dimension "d75" = 10
  dimension "d76" = 2.4
  dimension "d77" = 7
  dimension "d78" = 2
  dimension "d79" = 3
  dimension "d80" = 18.5
extrude "Выдавливание6" cut sketch "Эскиз6" against normal through all
sketch "Эскиз7" plane through (6, 0, 0) normal (1, 0, 0) x (0, 0, -1)
  line L0 (-182.7989, 35.7991) -> (-221.7989, 35.7991)
  line L1 (-221.7989, 35.7991) -> (-221.7989, -58.2009)
  line L2 (-221.7989, -58.2009) -> (-182.7989, -58.2009)
  line L3 (-182.7989, -58.2009) -> (-182.7989, 35.7991)
  line L4 (-182.7989, -58.2009) -> (-152.7989, -58.2009) projected
  line L5 (-182.7989, -48.2009) -> (-182.7989, -58.2009) projected
  line L6 (-144.2989, 35.7991) -> (-182.7989, 35.7991) projected
  point P0 (0, 0)
  dimension "d85" = 39
extrude "Выдавливание7" [suppressed]
sketch "Эскиз8" plane through (6, 0, 0) normal (1, 0, 0) x (0, 0, -1)
  circle A0 centre (-184.2989, -16.7009) radius 1.5
  circle A1 centre (-184.2989, -47.7009) radius 1.5
  line L0 (-182.7989, 5.7991) -> (-182.7989, 25.7991) projected
  line L1 (-144.2989, 35.7991) -> (-182.7989, 35.7991) projected
  line L2 (-221.7989, -58.2009) -> (-152.7989, -58.2009) projected
  circle A2 centre (-199.7989, -32.2009) radius 12.5
  circle A3 centre (-215.2989, -47.7009) radius 1.5
  line L3 (-221.7989, 35.7991) -> (-221.7989, -58.2009) projected
  circle A4 centre (-215.2989, -16.7009) radius 1.5
  point P0 (0, 0)
  dimension "d92" = 3
  dimension "d93" = 31
  dimension "d98" = 1.5
  dimension "d99" = 1.5
  dimension "d104" = 10.5
  dimension "d116" = 25
  dimension "d140" = 15.5
  dimension "d180" = 15.5
  dimension "d181" = 15.5
  dimension "d182" = 15.5
  dimension "d183" = 15.5
  dimension "d184" = 15.5
extrude "Выдавливание8" cut sketch "Эскиз8" against normal through all
sketch "Эскиз9" plane through (0, 0, 0) normal (-1, 0, 0) x (0, 0, 1)
  line L0 (144.2989, 35.7991) -> (182.7989, 35.7991) projected
  line L1 (195.2989, 35.7991) -> (198.2989, 35.7991)
  line L2 (198.2989, 35.7991) -> (198.2989, 25.7991)
  line L3 (198.2989, 25.7991) -> (195.2989, 25.7991)
  line L4 (195.2989, 25.7991) -> (195.2989, 35.7991)
  line L5 (200.2989, 31.3991) -> (193.2989, 31.3991)
  line L6 (193.2989, 31.3991) -> (193.2989, 33.7991)
  line L7 (193.2989, 33.7991) -> (200.2989, 33.7991)
  line L8 (200.2989, 33.7991) -> (200.2989, 31.3991)
  line L9 (221.7989, -58.2009) -> (221.7989, 35.7991) projected
  point P0 (0, 0)
  point P1 (195.2989, 31.3991)
  point P2 (198.2989, 31.3991)
  point P3 (198.2989, 33.7991)
  point P4 (195.2989, 33.7991)
  dimension "d107" = 3
  dimension "d108" = 23.5
  dimension "d109" = 7
  dimension "d110" = 2
  dimension "d111" = 10
  dimension "d112" = 2.4
  dimension "d113" = 2
extrude "Выдавливание9" cut sketch "Эскиз9" against normal blind 10
fillet "Сопряжение1" radius 2 2 edges at (3, 35.7991, 82.7989) (3, 13.5621, -47.2011)
sketch "Эскиз11" plane through (0, 0, 0) normal (-1, 0, 0) x (0, 0, 1)
  circle A0 centre (100.1841, 23.904) radius 1.5
  circle A1 centre (89.0971, -13.4435) radius 1.5
  circle A2 centre (23.5119, -8.8427) radius 1.5
  circle A3 centre (86.4418, 23.904) radius 1.5
  circle A4 centre (80.5036, -4.7593) radius 1.5
  circle A5 centre (22.0119, -21.3866) radius 1.5
  point P0 (0, 0)
  dimension "d134" = 3
  dimension "d135" = 3
  dimension "d136" = 3
  dimension "d144" = 3
  dimension "d145" = 3
  dimension "d146" = 3
extrude "Выдавливание11" cut sketch "Эскиз11" against normal blind 10
sketch "Эскиз12" plane through (0, 0, 0) normal (-1, 0, 0) x (0, 0, 1)
  line L0 (144.2989, 35.7991) -> (182.7989, 35.7991) projected
  line L1 (191.7989, 35.7991) -> (176.7989, 35.7991)
  line L2 (176.7989, 35.7991) -> (176.7989, 39.7991)
  line L3 (176.7989, 39.7991) -> (191.7989, 39.7991)
  line L4 (191.7989, 39.7991) -> (191.7989, 35.7991)
  line L5 (221.7989, -58.2009) -> (221.7989, 35.7991) projected
  line L6 (116.7989, 35.7991) -> (101.7989, 35.7991)
  line L7 (101.7989, 35.7991) -> (101.7989, 39.7991)
  line L8 (101.7989, 39.7991) -> (116.7989, 39.7991)
  line L9 (116.7989, 39.7991) -> (116.7989, 35.7991)
  line L10 (221.7989, 35.7991) -> (84.7989, 35.7991) projected
  line L11 (85.2096, 35.7991) -> (121.2989, 35.7991) projected
  point P0 (0, 0)
  point P1 (195.2989, 35.7991)
  point P2 (191.7989, 37.7991)
  point P3 (176.7989, 37.7991)
  point P4 (116.7989, 37.7991)
  point P5 (101.7989, 37.7991)
  dimension "d147" = 4
  dimension "d148" = 30
  dimension "d149" = 15
  dimension "d150" = 4
  dimension "d151" = 60
  dimension "d152" = 15
extrude "Выдавливание12" add sketch "Эскиз12" against normal blind 6
sketch "Эскиз13" plane through (6, 0, 0) normal (1, 0, 0) x (0, 0, -1)
  circle A0 centre (44.2011, -26.7009) radius 1.5
  circle A1 centre (44.2011, -53.7009) radius 1.5
  line L0 (41.2011, -34.2009) -> (47.2011, -34.2009) projected
  line L1 (47.2011, -34.2009) -> (47.2011, -19.2009) projected
  line L2 (47.2011, -49.2009) -> (41.2011, -49.2009) projected
  line L3 (47.2011, -58.2009) -> (47.2011, -49.2009) projected
  circle A2 centre (-179.7989, -12.2009) radius 1.5
  line L4 (-152.7989, -64.2009) -> (-122.7989, -64.2009) projected
  line L5 (-176.7989, -28.2009) -> (-176.7989, -48.2009) projected
  point P0 (0, 0)
  point P1 (44.2011, -34.2009)
  point P2 (44.2011, -49.2009)
  dimension "d160" = 3
  dimension "d161" = 3
  dimension "d162" = 7.5
  dimension "d163" = 3
  dimension "d164" = 4.5
  dimension "d165" = 3
  dimension "d168" = 3
  dimension "d169" = 52
  dimension "d170" = 3
extrude "Выдавливание13" cut sketch "Эскиз13" against normal blind 6
sketch "Эскиз14" plane through (6, 0, 0) normal (1, 0, 0) x (0, 0, -1)
  line L0 (-199.1415, 35.7991) -> (-199.1415, -19.3906)
  line L1 (-198.2989, 35.7991) -> (-221.7989, 35.7991) projected
  line L2 (-221.7989, 35.7991) -> (-221.7989, -58.2009) projected
  circle A0 centre (-199.7989, -32.2009) radius 12.5 projected
  line L3 (-221.7989, -58.2009) -> (-152.7989, -58.2009) projected
  line L4 (-199.1415, -19.3906) -> (-214.7989, -32.2009)
  line L5 (-197.5588, -58.2009) -> (-214.7989, -32.2009)
  line L6 (-182.7989, 10.2991) -> (-186.7989, 10.2991)
  line L7 (-186.7989, 10.2991) -> (-186.7989, 1.2991)
  line L8 (-186.7989, 1.2991) -> (-182.7989, 1.2991)
  line L9 (-182.7989, 1.2991) -> (-182.7989, 10.2991)
  line L10 (-182.7989, 5.7991) -> (-182.7989, 25.7991) projected
  line L11 (-192.7989, 15.7991) -> (-184.7989, 15.7991)
  line L12 (-184.7989, 15.7991) -> (-184.7989, -4.2009)
  line L13 (-184.7989, -4.2009) -> (-192.7989, -4.2009)
  line L14 (-192.7989, -4.2009) -> (-192.7989, 15.7991)
  point P0 (0, 0)
  point P1 (-184.7989, 10.2991)
  point P2 (-188.7989, -4.2009)
  point P3 (-184.7989, 10.2991)
  point P4 (-184.7989, 1.2991)
  dimension "d171" = 25.5
  dimension "d172" = 9
  dimension "d173" = 4
  dimension "d174" = 5.5
  dimension "d175" = 20
  dimension "d176" = 8
  dimension "d177" = 2
sketch "Эскиз10" plane through (6, 0, 0) normal (1, 0, 0) x (0, 0, -1)
  circle A0 centre (-170.61, 18.2991) radius 1.5
  circle A1 centre (-139.61, 18.2991) radius 1.5
  circle A2 centre (-139.61, -12.7009) radius 1.5
  circle A3 centre (-170.61, -12.7009) radius 1.5
  line L0 (-176.7989, 25.7991) -> (-176.7989, 5.7991) projected
  line L1 (-144.2989, 35.7991) -> (-195.2989, 35.7991) projected
  point P0 (0, 0)
  dimension "d119" = 3
  dimension "d120" = 3
  dimension "d121" = 3
  dimension "d122" = 3
  dimension "d123" = 5.5
  dimension "d124" = 17.5
  dimension "d125" = 17.5
  dimension "d126" = 31
  dimension "d127" = 0
  dimension "d128" = 31
  dimension "d129" = 0
  dimension "d130" = 31
equation "\"d28\" = d27"
equation "\"d29\" = d27"
equation "\"d30\" = d27"
properties part number "бок"
